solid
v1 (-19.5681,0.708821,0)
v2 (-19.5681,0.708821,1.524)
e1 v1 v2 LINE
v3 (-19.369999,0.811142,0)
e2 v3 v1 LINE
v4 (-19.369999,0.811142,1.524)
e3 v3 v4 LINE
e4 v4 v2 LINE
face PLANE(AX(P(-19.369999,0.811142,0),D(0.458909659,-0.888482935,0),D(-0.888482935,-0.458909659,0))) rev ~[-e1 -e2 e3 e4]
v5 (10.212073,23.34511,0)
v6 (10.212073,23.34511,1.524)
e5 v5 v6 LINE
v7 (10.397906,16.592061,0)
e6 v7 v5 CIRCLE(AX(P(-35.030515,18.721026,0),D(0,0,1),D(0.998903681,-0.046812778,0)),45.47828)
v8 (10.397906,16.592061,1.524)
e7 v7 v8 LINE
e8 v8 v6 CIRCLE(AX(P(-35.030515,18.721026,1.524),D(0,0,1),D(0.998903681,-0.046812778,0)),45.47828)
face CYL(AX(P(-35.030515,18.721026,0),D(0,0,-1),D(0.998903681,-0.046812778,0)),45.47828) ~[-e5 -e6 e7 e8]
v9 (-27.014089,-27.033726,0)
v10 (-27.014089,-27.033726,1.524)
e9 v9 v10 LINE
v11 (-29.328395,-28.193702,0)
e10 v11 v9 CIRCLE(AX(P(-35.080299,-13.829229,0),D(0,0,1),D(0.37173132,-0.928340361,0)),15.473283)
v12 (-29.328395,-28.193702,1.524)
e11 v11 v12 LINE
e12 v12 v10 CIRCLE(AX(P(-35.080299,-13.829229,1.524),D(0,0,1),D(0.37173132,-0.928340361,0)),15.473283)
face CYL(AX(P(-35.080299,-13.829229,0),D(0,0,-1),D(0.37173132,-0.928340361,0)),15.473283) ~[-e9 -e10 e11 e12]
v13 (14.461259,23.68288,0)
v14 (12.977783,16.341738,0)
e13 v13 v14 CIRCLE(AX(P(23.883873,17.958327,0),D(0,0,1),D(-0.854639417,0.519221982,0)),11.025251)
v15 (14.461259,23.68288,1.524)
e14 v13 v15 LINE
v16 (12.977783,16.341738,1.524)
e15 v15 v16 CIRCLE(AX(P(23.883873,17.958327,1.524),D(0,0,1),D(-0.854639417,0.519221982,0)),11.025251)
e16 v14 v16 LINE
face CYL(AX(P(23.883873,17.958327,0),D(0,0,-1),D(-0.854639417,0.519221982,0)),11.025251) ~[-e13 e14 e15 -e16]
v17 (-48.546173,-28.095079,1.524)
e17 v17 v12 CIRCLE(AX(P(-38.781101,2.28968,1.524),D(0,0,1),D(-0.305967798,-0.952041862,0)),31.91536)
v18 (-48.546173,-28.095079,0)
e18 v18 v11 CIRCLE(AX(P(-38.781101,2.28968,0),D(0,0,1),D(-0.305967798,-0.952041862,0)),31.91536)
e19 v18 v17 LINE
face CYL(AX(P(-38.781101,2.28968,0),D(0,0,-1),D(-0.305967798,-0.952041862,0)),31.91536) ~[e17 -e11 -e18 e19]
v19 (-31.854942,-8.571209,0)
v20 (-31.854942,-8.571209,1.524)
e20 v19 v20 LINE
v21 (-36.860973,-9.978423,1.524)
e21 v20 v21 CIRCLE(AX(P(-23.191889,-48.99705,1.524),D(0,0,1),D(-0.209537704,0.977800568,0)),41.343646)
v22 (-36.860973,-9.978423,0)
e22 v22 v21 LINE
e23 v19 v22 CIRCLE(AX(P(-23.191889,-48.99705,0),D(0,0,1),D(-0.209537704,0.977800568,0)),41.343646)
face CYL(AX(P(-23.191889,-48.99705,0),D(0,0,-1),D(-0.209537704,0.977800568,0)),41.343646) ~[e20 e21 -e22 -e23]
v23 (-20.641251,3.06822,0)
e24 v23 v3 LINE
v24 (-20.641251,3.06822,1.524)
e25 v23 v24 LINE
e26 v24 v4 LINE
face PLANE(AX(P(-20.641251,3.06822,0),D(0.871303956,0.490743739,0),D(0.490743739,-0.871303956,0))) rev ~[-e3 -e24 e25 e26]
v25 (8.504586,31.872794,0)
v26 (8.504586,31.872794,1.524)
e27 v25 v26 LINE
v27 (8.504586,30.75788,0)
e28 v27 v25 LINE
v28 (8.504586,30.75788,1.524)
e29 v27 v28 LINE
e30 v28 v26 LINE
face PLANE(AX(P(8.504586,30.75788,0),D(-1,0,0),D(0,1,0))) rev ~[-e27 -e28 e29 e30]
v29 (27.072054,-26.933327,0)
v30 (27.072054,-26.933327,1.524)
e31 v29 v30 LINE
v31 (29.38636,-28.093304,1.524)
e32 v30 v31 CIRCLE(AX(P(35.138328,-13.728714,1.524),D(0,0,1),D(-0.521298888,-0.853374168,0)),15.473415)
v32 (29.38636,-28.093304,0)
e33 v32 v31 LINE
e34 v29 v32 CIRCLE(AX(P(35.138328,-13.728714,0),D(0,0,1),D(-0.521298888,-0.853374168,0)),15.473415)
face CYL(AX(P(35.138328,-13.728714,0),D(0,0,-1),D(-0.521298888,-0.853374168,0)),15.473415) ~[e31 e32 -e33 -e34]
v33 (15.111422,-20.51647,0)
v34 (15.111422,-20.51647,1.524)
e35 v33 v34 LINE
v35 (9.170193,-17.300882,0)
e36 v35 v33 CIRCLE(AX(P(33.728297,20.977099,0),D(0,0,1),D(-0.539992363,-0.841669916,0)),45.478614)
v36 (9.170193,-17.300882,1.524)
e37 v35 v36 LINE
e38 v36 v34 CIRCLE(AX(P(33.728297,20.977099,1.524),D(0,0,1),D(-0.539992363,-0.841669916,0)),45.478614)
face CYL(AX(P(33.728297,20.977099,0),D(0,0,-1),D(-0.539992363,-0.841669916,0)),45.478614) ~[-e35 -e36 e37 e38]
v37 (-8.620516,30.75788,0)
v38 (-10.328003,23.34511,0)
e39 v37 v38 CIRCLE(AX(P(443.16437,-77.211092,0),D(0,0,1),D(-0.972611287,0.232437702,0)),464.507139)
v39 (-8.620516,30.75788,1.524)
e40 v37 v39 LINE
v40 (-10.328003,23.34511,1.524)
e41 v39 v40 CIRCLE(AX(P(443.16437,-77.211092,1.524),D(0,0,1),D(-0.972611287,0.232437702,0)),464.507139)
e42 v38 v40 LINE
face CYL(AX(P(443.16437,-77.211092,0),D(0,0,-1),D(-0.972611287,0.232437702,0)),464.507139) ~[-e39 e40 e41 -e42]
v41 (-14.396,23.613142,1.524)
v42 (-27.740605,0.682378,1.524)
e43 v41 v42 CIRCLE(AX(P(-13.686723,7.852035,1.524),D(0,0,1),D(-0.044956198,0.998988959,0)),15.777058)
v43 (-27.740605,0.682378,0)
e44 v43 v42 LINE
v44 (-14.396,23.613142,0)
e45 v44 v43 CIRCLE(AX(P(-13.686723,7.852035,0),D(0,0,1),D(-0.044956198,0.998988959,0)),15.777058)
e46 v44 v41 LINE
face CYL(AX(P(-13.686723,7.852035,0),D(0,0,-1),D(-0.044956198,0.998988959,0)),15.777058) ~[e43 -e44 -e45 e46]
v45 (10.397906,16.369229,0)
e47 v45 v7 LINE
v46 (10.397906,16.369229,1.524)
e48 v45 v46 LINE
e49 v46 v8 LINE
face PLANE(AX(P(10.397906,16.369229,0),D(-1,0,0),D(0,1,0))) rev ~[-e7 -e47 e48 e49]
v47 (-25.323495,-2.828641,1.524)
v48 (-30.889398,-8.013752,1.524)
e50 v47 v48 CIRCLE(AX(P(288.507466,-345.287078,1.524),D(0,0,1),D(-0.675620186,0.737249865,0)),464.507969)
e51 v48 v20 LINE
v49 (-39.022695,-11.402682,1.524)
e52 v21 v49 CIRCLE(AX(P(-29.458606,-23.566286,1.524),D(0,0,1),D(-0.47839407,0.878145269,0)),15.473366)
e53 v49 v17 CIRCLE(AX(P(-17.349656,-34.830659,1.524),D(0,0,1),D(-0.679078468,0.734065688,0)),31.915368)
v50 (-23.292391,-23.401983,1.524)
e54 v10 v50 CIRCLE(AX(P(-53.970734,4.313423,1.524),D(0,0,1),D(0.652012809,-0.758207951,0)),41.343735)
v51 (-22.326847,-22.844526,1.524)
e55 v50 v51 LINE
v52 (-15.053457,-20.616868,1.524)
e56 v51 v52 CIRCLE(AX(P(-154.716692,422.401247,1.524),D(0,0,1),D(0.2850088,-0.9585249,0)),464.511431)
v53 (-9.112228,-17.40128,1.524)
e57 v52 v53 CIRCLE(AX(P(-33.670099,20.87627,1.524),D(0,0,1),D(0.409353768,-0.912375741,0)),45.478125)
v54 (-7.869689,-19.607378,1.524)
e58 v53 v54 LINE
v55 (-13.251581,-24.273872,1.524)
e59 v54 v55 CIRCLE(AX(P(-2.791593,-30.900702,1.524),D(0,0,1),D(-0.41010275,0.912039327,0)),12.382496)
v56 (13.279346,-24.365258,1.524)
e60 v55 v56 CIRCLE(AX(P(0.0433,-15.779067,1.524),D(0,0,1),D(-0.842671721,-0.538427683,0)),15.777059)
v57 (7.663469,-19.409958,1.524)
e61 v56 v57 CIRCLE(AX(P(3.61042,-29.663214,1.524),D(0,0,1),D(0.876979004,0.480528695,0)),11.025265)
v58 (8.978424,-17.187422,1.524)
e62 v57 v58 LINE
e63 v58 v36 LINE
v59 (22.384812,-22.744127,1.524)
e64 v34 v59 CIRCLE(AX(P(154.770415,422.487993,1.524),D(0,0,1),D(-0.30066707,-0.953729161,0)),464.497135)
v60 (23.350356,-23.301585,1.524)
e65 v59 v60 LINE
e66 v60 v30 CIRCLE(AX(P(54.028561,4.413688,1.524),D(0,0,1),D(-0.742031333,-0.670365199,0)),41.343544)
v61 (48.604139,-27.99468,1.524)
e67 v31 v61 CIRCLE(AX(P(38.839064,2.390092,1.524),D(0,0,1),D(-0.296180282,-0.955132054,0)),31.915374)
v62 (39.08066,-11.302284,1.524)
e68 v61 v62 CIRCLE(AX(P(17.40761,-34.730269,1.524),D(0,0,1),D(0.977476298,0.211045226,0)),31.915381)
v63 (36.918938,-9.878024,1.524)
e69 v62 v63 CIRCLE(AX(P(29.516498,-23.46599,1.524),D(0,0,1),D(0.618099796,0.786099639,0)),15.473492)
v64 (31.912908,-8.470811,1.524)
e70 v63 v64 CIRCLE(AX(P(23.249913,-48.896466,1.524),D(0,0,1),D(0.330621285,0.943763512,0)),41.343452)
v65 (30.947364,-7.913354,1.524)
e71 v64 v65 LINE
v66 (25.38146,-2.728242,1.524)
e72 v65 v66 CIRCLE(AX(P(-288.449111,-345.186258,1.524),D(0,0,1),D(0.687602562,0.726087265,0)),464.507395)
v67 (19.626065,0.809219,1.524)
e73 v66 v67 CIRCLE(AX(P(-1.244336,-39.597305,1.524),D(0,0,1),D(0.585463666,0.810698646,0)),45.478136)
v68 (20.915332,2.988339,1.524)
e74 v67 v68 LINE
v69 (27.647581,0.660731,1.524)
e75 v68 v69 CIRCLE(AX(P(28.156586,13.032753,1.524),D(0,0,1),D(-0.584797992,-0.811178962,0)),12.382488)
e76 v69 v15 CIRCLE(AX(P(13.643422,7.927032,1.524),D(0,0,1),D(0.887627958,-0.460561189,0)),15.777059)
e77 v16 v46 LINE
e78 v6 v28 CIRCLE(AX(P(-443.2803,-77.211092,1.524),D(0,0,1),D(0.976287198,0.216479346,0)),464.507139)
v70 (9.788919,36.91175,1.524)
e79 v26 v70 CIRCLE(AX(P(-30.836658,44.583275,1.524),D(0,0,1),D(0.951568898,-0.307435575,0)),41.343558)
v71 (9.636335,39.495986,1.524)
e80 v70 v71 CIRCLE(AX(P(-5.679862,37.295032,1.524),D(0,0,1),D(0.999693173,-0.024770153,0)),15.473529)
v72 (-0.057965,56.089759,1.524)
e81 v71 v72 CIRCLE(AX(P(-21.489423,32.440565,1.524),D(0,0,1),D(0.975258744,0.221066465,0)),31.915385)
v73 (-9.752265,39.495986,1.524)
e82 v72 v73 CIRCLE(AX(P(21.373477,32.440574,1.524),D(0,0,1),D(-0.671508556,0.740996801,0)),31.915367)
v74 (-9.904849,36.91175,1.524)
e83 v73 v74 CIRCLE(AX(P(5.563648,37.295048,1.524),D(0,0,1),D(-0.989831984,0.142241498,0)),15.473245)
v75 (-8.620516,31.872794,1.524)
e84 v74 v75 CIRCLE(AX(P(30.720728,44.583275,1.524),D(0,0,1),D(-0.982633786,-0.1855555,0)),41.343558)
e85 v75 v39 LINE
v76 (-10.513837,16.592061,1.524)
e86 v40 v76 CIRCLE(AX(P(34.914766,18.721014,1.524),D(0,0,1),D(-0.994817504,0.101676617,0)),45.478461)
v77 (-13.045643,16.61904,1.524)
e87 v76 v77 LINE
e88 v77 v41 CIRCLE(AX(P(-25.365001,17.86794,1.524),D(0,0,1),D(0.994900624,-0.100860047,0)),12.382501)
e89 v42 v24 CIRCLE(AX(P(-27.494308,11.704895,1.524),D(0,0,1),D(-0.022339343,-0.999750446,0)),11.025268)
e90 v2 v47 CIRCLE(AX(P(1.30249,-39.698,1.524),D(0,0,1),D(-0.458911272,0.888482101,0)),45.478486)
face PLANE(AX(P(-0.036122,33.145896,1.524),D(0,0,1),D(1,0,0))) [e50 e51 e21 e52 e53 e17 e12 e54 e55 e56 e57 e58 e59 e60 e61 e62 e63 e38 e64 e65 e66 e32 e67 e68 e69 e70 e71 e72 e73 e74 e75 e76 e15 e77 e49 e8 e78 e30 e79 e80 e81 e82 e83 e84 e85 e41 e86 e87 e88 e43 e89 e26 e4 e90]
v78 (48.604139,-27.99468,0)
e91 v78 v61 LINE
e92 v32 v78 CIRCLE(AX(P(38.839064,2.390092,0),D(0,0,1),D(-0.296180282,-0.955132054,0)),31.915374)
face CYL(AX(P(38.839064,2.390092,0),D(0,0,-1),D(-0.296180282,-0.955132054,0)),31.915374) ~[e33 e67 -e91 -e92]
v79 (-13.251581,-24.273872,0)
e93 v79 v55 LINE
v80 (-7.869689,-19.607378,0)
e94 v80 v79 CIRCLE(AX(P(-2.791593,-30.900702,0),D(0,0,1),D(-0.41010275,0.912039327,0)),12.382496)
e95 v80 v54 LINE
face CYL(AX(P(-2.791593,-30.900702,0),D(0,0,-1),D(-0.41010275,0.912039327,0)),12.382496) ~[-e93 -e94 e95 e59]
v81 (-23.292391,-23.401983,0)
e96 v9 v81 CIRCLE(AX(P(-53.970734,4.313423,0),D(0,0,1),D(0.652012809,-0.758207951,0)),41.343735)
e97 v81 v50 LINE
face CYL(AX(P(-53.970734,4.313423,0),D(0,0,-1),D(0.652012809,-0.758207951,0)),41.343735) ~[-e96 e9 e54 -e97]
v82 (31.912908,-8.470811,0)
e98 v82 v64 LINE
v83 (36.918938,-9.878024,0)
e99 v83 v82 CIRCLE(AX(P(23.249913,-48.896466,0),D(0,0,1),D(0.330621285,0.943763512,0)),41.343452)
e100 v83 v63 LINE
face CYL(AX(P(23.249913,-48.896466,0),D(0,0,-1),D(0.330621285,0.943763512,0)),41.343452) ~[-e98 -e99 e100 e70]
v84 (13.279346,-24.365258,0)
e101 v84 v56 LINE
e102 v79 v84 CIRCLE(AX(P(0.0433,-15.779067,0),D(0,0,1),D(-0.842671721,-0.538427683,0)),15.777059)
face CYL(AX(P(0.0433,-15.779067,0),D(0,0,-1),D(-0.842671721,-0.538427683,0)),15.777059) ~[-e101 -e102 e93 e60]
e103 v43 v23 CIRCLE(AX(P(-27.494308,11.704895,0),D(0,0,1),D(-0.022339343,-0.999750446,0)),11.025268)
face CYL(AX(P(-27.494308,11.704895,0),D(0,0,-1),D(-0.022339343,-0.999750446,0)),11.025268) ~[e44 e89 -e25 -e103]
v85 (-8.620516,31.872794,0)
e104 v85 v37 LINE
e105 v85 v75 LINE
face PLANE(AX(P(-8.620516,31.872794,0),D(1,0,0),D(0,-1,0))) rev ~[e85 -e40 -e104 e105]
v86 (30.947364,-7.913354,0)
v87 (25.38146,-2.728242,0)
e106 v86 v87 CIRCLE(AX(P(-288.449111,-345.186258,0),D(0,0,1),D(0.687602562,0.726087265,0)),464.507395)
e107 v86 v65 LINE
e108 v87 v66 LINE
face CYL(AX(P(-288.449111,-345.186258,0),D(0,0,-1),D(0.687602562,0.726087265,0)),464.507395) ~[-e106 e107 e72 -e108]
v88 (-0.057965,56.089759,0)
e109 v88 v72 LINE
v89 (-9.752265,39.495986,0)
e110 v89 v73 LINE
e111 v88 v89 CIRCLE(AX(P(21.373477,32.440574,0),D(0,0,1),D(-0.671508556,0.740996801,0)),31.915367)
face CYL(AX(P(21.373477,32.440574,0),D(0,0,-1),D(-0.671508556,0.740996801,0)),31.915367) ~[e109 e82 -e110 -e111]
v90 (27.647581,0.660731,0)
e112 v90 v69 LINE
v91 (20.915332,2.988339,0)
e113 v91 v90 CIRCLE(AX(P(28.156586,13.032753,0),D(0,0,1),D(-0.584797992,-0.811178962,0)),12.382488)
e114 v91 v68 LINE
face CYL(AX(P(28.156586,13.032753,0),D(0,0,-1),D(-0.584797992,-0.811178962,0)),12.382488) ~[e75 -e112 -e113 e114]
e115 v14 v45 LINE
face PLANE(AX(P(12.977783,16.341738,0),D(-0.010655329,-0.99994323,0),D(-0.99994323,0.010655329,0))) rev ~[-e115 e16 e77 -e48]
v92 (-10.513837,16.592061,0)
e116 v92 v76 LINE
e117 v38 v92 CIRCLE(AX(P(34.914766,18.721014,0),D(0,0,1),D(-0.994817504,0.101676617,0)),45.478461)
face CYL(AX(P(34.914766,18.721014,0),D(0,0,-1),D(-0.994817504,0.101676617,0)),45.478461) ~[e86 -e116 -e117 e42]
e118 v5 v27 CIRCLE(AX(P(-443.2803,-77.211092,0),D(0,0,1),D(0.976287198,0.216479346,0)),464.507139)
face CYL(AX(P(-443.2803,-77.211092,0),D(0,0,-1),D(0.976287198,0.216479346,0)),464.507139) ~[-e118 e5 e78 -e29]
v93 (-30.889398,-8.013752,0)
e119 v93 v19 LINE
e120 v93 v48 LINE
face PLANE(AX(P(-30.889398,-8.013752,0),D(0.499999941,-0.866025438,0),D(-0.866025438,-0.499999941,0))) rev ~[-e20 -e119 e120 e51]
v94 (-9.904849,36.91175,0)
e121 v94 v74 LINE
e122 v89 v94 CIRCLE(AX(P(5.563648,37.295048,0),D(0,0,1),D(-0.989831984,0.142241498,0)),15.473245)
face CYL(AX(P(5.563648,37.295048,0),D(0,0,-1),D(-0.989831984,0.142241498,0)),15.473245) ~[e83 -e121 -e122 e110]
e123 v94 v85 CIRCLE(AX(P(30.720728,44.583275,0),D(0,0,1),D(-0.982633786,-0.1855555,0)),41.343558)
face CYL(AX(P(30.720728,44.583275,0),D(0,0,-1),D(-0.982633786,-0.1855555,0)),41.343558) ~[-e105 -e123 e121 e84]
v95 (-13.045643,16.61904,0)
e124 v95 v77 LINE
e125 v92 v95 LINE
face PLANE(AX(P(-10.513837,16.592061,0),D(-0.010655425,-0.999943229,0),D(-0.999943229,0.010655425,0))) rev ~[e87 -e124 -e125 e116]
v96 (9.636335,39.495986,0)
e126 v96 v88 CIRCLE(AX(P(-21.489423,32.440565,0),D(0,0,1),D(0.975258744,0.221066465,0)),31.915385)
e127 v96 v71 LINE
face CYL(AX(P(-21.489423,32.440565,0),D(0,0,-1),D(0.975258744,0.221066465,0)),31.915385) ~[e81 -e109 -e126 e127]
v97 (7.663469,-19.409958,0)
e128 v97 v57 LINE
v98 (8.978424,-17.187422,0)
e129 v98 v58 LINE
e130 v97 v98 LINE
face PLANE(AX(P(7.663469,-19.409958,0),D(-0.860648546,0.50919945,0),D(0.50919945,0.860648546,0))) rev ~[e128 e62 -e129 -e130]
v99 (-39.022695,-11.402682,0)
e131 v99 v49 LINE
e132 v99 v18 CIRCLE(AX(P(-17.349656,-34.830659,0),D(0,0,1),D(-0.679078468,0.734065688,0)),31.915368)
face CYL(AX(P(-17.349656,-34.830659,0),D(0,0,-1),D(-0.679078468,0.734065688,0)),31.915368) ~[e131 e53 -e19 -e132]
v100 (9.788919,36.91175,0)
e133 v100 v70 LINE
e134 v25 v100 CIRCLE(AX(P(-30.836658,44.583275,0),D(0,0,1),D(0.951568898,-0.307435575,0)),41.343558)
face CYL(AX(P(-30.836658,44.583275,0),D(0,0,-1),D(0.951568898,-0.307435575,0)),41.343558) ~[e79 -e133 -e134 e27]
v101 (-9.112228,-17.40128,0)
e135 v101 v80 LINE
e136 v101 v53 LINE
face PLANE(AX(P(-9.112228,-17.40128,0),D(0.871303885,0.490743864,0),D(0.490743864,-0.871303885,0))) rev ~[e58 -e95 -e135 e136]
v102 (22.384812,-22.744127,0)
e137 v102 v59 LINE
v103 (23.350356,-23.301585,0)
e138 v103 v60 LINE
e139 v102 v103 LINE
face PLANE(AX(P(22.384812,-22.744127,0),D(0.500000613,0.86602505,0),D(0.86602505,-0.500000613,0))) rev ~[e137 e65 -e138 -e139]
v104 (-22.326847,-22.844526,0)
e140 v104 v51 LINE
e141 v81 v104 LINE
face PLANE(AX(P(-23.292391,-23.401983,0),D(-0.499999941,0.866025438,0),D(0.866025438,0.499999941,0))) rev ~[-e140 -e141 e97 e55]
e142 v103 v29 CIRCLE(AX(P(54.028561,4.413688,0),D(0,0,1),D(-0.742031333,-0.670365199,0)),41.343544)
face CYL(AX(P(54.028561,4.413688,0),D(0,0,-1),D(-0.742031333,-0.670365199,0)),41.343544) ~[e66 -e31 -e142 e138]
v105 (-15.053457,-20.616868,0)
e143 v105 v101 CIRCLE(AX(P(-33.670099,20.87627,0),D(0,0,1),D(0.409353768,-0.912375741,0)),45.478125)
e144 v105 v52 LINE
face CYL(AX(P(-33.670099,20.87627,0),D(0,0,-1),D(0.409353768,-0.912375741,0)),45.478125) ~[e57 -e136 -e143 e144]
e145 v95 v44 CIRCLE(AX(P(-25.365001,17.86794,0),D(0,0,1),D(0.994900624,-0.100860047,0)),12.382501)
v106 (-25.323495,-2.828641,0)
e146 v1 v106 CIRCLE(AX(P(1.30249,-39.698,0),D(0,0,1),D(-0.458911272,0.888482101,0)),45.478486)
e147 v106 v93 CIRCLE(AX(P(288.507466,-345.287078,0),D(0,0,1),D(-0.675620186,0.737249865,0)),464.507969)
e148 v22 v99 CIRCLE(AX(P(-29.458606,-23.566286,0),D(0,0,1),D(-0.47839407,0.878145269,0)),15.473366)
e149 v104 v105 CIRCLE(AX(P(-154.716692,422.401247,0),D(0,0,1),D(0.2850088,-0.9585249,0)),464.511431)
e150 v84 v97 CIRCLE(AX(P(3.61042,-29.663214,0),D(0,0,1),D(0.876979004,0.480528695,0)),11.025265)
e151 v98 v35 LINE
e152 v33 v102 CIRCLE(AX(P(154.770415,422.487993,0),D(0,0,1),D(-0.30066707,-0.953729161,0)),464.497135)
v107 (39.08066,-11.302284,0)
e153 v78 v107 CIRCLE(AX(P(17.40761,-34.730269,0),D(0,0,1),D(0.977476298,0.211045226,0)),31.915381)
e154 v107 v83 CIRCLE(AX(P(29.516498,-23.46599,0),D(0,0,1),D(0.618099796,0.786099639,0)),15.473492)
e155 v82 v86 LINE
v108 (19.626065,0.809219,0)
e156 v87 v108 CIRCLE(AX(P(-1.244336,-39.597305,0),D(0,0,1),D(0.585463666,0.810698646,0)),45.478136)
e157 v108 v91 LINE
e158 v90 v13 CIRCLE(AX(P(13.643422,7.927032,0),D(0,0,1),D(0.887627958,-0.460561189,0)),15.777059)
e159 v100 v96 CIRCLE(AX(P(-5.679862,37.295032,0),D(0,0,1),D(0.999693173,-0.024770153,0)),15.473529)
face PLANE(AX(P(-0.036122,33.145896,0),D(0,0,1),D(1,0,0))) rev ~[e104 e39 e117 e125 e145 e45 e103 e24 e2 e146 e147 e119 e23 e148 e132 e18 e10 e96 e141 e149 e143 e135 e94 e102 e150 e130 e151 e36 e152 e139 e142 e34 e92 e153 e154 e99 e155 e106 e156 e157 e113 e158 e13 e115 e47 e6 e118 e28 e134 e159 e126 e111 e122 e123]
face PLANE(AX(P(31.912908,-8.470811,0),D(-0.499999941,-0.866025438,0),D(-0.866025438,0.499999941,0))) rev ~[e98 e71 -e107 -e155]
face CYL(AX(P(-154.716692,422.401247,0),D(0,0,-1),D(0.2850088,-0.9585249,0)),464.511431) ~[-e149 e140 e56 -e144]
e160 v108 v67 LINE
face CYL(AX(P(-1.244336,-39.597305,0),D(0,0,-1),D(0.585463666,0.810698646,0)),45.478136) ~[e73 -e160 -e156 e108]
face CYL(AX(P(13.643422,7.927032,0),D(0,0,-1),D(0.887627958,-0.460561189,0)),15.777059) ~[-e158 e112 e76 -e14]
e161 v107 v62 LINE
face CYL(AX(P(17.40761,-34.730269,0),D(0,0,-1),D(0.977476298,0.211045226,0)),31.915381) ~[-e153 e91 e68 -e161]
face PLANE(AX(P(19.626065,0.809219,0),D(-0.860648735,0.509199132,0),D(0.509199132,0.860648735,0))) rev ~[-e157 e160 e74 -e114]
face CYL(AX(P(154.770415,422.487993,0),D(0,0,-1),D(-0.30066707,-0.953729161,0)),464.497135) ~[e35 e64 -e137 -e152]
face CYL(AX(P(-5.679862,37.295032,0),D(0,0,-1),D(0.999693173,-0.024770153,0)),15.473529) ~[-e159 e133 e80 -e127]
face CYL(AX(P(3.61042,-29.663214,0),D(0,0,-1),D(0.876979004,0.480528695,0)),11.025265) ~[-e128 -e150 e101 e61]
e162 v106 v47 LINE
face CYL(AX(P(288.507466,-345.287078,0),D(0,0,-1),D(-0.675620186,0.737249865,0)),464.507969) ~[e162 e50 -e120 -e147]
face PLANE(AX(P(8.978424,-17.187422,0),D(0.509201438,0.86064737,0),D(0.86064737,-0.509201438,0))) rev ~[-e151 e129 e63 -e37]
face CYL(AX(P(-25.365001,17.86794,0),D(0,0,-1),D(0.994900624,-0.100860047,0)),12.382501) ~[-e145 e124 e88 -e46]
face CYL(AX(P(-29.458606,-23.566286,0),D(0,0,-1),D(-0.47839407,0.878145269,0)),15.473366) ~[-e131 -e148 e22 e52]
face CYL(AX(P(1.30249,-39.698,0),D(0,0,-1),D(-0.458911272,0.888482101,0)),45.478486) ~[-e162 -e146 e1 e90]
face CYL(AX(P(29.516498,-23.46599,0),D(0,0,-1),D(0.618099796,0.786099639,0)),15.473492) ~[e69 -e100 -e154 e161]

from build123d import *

# Parameters (mm, degrees)
F1_DEPTH = 1.524


with BuildPart() as f1:
    # F0 (on Top) → F1 (new body)
    with BuildSketch(Plane.XY):
        with BuildLine():
            ThreePointArc((-10.328003, 23.34511), (-10.546485, 19.972041), (-10.513837, 16.592061))
            Line((-10.513837, 16.592061), (10.397906, 16.369229))
            Line((10.397906, 16.369229), (10.397906, 16.592061))
            ThreePointArc((10.397906, 16.592061), (10.430555, 19.972041), (10.212073, 23.34511))
            ThreePointArc((10.212073, 23.34511), (9.373504, 27.05499), (8.504586, 30.75788))
            Line((8.504586, 30.75788), (8.504586, 31.872794))
            ThreePointArc((8.504586, 31.872794), (9.226054, 34.37206), (9.788919, 36.91175))
            ThreePointArc((9.788919, 36.91175), (9.766765, 38.207065), (9.636335, 39.495986))
            ThreePointArc((9.636335, 39.495986), (6.067855, 48.539888), (-0.057965, 56.089759))
            ThreePointArc((-0.057965, 56.089759), (-6.183786, 48.539888), (-9.752265, 39.495986))
            ThreePointArc((-9.752265, 39.495986), (-9.882696, 38.207065), (-9.904849, 36.91175))
            ThreePointArc((-9.904849, 36.91175), (-9.341984, 34.37206), (-8.620516, 31.872794))
            Line((-8.620516, 31.872794), (-8.620516, 30.75788))
            ThreePointArc((-8.620516, 30.75788), (-9.489434, 27.05499), (-10.328003, 23.34511))
        make_face()
        with BuildLine():
            ThreePointArc((-14.396, 23.613142), (-27.322804, 15.78758), (-27.740605, 0.682378))
            ThreePointArc((-27.740605, 0.682378), (-23.982132, 1.254002), (-20.641251, 3.06822))
            Line((-20.641251, 3.06822), (-19.369999, 0.811142))
            Line((-19.369999, 0.811142), (-9.112228, -17.40128))
            Line((-9.112228, -17.40128), (-7.869689, -19.607378))
            ThreePointArc((-7.869689, -19.607378), (-10.90344, -21.545267), (-13.251581, -24.273872))
            ThreePointArc((-13.251581, -24.273872), (-0.011043, -31.556032), (13.279346, -24.365258))
            ThreePointArc((13.279346, -24.365258), (10.905069, -21.396137), (7.663469, -19.409958))
            Line((7.663469, -19.409958), (8.978424, -17.187422))
            Line((8.978424, -17.187422), (19.626065, 0.809219))
            Line((19.626065, 0.809219), (20.915332, 2.988339))
            ThreePointArc((20.915332, 2.988339), (24.110468, 1.329978), (27.647581, 0.660731))
            ThreePointArc((27.647581, 0.660731), (27.333847, 15.768452), (14.461259, 23.68288))
            ThreePointArc((14.461259, 23.68288), (13.077063, 20.142135), (12.977783, 16.341738))
            Line((12.977783, 16.341738), (10.397906, 16.369229))
            Line((10.397906, 16.369229), (-10.513837, 16.592061))
            Line((-10.513837, 16.592061), (-13.045643, 16.61904))
            ThreePointArc((-13.045643, 16.61904), (-13.207029, 20.215289), (-14.396, 23.613142))
        make_face()
        with BuildLine():
            Line((-9.112228, -17.40128), (-19.369999, 0.811142))
            Line((-19.369999, 0.811142), (-19.5681, 0.708821))
            ThreePointArc((-19.5681, 0.708821), (-22.511572, -0.952895), (-25.323495, -2.828641))
            ThreePointArc((-25.323495, -2.828641), (-28.117061, -5.409803), (-30.889398, -8.013752))
            Line((-30.889398, -8.013752), (-31.854942, -8.571209))
            ThreePointArc((-31.854942, -8.571209), (-34.380104, -9.196033), (-36.860973, -9.978423))
            ThreePointArc((-36.860973, -9.978423), (-37.971671, -10.645265), (-39.022695, -11.402682))
            ThreePointArc((-39.022695, -11.402682), (-45.070704, -19.015027), (-48.546173, -28.095079))
            ThreePointArc((-48.546173, -28.095079), (-38.944884, -29.62526), (-29.328395, -28.193702))
            ThreePointArc((-29.328395, -28.193702), (-28.146941, -27.662198), (-27.014089, -27.033726))
            ThreePointArc((-27.014089, -27.033726), (-25.096085, -25.276425), (-23.292391, -23.401983))
            Line((-23.292391, -23.401983), (-22.326847, -22.844526))
            ThreePointArc((-22.326847, -22.844526), (-18.685592, -21.745586), (-15.053457, -20.616868))
            ThreePointArc((-15.053457, -20.616868), (-12.023052, -19.119545), (-9.112228, -17.40128))
        make_face()
        with BuildLine():
            Line((19.626065, 0.809219), (8.978424, -17.187422))
            Line((8.978424, -17.187422), (9.170193, -17.300882))
            ThreePointArc((9.170193, -17.300882), (12.081018, -19.019146), (15.111422, -20.51647))
            ThreePointArc((15.111422, -20.51647), (18.743557, -21.645188), (22.384812, -22.744127))
            Line((22.384812, -22.744127), (23.350356, -23.301585))
            ThreePointArc((23.350356, -23.301585), (25.15405, -25.176027), (27.072054, -26.933327))
            ThreePointArc((27.072054, -26.933327), (28.204906, -27.561799), (29.38636, -28.093304))
            ThreePointArc((29.38636, -28.093304), (39.002849, -29.524861), (48.604139, -27.99468))
            ThreePointArc((48.604139, -27.99468), (45.128669, -18.914629), (39.08066, -11.302284))
            ThreePointArc((39.08066, -11.302284), (38.029636, -10.544867), (36.918938, -9.878024))
            ThreePointArc((36.918938, -9.878024), (34.438069, -9.095634), (31.912908, -8.470811))
            Line((31.912908, -8.470811), (30.947364, -7.913354))
            ThreePointArc((30.947364, -7.913354), (28.175026, -5.309404), (25.38146, -2.728242))
            ThreePointArc((25.38146, -2.728242), (22.569538, -0.852496), (19.626065, 0.809219))
        make_face()
    extrude(amount=F1_DEPTH)


solid = f1.part
